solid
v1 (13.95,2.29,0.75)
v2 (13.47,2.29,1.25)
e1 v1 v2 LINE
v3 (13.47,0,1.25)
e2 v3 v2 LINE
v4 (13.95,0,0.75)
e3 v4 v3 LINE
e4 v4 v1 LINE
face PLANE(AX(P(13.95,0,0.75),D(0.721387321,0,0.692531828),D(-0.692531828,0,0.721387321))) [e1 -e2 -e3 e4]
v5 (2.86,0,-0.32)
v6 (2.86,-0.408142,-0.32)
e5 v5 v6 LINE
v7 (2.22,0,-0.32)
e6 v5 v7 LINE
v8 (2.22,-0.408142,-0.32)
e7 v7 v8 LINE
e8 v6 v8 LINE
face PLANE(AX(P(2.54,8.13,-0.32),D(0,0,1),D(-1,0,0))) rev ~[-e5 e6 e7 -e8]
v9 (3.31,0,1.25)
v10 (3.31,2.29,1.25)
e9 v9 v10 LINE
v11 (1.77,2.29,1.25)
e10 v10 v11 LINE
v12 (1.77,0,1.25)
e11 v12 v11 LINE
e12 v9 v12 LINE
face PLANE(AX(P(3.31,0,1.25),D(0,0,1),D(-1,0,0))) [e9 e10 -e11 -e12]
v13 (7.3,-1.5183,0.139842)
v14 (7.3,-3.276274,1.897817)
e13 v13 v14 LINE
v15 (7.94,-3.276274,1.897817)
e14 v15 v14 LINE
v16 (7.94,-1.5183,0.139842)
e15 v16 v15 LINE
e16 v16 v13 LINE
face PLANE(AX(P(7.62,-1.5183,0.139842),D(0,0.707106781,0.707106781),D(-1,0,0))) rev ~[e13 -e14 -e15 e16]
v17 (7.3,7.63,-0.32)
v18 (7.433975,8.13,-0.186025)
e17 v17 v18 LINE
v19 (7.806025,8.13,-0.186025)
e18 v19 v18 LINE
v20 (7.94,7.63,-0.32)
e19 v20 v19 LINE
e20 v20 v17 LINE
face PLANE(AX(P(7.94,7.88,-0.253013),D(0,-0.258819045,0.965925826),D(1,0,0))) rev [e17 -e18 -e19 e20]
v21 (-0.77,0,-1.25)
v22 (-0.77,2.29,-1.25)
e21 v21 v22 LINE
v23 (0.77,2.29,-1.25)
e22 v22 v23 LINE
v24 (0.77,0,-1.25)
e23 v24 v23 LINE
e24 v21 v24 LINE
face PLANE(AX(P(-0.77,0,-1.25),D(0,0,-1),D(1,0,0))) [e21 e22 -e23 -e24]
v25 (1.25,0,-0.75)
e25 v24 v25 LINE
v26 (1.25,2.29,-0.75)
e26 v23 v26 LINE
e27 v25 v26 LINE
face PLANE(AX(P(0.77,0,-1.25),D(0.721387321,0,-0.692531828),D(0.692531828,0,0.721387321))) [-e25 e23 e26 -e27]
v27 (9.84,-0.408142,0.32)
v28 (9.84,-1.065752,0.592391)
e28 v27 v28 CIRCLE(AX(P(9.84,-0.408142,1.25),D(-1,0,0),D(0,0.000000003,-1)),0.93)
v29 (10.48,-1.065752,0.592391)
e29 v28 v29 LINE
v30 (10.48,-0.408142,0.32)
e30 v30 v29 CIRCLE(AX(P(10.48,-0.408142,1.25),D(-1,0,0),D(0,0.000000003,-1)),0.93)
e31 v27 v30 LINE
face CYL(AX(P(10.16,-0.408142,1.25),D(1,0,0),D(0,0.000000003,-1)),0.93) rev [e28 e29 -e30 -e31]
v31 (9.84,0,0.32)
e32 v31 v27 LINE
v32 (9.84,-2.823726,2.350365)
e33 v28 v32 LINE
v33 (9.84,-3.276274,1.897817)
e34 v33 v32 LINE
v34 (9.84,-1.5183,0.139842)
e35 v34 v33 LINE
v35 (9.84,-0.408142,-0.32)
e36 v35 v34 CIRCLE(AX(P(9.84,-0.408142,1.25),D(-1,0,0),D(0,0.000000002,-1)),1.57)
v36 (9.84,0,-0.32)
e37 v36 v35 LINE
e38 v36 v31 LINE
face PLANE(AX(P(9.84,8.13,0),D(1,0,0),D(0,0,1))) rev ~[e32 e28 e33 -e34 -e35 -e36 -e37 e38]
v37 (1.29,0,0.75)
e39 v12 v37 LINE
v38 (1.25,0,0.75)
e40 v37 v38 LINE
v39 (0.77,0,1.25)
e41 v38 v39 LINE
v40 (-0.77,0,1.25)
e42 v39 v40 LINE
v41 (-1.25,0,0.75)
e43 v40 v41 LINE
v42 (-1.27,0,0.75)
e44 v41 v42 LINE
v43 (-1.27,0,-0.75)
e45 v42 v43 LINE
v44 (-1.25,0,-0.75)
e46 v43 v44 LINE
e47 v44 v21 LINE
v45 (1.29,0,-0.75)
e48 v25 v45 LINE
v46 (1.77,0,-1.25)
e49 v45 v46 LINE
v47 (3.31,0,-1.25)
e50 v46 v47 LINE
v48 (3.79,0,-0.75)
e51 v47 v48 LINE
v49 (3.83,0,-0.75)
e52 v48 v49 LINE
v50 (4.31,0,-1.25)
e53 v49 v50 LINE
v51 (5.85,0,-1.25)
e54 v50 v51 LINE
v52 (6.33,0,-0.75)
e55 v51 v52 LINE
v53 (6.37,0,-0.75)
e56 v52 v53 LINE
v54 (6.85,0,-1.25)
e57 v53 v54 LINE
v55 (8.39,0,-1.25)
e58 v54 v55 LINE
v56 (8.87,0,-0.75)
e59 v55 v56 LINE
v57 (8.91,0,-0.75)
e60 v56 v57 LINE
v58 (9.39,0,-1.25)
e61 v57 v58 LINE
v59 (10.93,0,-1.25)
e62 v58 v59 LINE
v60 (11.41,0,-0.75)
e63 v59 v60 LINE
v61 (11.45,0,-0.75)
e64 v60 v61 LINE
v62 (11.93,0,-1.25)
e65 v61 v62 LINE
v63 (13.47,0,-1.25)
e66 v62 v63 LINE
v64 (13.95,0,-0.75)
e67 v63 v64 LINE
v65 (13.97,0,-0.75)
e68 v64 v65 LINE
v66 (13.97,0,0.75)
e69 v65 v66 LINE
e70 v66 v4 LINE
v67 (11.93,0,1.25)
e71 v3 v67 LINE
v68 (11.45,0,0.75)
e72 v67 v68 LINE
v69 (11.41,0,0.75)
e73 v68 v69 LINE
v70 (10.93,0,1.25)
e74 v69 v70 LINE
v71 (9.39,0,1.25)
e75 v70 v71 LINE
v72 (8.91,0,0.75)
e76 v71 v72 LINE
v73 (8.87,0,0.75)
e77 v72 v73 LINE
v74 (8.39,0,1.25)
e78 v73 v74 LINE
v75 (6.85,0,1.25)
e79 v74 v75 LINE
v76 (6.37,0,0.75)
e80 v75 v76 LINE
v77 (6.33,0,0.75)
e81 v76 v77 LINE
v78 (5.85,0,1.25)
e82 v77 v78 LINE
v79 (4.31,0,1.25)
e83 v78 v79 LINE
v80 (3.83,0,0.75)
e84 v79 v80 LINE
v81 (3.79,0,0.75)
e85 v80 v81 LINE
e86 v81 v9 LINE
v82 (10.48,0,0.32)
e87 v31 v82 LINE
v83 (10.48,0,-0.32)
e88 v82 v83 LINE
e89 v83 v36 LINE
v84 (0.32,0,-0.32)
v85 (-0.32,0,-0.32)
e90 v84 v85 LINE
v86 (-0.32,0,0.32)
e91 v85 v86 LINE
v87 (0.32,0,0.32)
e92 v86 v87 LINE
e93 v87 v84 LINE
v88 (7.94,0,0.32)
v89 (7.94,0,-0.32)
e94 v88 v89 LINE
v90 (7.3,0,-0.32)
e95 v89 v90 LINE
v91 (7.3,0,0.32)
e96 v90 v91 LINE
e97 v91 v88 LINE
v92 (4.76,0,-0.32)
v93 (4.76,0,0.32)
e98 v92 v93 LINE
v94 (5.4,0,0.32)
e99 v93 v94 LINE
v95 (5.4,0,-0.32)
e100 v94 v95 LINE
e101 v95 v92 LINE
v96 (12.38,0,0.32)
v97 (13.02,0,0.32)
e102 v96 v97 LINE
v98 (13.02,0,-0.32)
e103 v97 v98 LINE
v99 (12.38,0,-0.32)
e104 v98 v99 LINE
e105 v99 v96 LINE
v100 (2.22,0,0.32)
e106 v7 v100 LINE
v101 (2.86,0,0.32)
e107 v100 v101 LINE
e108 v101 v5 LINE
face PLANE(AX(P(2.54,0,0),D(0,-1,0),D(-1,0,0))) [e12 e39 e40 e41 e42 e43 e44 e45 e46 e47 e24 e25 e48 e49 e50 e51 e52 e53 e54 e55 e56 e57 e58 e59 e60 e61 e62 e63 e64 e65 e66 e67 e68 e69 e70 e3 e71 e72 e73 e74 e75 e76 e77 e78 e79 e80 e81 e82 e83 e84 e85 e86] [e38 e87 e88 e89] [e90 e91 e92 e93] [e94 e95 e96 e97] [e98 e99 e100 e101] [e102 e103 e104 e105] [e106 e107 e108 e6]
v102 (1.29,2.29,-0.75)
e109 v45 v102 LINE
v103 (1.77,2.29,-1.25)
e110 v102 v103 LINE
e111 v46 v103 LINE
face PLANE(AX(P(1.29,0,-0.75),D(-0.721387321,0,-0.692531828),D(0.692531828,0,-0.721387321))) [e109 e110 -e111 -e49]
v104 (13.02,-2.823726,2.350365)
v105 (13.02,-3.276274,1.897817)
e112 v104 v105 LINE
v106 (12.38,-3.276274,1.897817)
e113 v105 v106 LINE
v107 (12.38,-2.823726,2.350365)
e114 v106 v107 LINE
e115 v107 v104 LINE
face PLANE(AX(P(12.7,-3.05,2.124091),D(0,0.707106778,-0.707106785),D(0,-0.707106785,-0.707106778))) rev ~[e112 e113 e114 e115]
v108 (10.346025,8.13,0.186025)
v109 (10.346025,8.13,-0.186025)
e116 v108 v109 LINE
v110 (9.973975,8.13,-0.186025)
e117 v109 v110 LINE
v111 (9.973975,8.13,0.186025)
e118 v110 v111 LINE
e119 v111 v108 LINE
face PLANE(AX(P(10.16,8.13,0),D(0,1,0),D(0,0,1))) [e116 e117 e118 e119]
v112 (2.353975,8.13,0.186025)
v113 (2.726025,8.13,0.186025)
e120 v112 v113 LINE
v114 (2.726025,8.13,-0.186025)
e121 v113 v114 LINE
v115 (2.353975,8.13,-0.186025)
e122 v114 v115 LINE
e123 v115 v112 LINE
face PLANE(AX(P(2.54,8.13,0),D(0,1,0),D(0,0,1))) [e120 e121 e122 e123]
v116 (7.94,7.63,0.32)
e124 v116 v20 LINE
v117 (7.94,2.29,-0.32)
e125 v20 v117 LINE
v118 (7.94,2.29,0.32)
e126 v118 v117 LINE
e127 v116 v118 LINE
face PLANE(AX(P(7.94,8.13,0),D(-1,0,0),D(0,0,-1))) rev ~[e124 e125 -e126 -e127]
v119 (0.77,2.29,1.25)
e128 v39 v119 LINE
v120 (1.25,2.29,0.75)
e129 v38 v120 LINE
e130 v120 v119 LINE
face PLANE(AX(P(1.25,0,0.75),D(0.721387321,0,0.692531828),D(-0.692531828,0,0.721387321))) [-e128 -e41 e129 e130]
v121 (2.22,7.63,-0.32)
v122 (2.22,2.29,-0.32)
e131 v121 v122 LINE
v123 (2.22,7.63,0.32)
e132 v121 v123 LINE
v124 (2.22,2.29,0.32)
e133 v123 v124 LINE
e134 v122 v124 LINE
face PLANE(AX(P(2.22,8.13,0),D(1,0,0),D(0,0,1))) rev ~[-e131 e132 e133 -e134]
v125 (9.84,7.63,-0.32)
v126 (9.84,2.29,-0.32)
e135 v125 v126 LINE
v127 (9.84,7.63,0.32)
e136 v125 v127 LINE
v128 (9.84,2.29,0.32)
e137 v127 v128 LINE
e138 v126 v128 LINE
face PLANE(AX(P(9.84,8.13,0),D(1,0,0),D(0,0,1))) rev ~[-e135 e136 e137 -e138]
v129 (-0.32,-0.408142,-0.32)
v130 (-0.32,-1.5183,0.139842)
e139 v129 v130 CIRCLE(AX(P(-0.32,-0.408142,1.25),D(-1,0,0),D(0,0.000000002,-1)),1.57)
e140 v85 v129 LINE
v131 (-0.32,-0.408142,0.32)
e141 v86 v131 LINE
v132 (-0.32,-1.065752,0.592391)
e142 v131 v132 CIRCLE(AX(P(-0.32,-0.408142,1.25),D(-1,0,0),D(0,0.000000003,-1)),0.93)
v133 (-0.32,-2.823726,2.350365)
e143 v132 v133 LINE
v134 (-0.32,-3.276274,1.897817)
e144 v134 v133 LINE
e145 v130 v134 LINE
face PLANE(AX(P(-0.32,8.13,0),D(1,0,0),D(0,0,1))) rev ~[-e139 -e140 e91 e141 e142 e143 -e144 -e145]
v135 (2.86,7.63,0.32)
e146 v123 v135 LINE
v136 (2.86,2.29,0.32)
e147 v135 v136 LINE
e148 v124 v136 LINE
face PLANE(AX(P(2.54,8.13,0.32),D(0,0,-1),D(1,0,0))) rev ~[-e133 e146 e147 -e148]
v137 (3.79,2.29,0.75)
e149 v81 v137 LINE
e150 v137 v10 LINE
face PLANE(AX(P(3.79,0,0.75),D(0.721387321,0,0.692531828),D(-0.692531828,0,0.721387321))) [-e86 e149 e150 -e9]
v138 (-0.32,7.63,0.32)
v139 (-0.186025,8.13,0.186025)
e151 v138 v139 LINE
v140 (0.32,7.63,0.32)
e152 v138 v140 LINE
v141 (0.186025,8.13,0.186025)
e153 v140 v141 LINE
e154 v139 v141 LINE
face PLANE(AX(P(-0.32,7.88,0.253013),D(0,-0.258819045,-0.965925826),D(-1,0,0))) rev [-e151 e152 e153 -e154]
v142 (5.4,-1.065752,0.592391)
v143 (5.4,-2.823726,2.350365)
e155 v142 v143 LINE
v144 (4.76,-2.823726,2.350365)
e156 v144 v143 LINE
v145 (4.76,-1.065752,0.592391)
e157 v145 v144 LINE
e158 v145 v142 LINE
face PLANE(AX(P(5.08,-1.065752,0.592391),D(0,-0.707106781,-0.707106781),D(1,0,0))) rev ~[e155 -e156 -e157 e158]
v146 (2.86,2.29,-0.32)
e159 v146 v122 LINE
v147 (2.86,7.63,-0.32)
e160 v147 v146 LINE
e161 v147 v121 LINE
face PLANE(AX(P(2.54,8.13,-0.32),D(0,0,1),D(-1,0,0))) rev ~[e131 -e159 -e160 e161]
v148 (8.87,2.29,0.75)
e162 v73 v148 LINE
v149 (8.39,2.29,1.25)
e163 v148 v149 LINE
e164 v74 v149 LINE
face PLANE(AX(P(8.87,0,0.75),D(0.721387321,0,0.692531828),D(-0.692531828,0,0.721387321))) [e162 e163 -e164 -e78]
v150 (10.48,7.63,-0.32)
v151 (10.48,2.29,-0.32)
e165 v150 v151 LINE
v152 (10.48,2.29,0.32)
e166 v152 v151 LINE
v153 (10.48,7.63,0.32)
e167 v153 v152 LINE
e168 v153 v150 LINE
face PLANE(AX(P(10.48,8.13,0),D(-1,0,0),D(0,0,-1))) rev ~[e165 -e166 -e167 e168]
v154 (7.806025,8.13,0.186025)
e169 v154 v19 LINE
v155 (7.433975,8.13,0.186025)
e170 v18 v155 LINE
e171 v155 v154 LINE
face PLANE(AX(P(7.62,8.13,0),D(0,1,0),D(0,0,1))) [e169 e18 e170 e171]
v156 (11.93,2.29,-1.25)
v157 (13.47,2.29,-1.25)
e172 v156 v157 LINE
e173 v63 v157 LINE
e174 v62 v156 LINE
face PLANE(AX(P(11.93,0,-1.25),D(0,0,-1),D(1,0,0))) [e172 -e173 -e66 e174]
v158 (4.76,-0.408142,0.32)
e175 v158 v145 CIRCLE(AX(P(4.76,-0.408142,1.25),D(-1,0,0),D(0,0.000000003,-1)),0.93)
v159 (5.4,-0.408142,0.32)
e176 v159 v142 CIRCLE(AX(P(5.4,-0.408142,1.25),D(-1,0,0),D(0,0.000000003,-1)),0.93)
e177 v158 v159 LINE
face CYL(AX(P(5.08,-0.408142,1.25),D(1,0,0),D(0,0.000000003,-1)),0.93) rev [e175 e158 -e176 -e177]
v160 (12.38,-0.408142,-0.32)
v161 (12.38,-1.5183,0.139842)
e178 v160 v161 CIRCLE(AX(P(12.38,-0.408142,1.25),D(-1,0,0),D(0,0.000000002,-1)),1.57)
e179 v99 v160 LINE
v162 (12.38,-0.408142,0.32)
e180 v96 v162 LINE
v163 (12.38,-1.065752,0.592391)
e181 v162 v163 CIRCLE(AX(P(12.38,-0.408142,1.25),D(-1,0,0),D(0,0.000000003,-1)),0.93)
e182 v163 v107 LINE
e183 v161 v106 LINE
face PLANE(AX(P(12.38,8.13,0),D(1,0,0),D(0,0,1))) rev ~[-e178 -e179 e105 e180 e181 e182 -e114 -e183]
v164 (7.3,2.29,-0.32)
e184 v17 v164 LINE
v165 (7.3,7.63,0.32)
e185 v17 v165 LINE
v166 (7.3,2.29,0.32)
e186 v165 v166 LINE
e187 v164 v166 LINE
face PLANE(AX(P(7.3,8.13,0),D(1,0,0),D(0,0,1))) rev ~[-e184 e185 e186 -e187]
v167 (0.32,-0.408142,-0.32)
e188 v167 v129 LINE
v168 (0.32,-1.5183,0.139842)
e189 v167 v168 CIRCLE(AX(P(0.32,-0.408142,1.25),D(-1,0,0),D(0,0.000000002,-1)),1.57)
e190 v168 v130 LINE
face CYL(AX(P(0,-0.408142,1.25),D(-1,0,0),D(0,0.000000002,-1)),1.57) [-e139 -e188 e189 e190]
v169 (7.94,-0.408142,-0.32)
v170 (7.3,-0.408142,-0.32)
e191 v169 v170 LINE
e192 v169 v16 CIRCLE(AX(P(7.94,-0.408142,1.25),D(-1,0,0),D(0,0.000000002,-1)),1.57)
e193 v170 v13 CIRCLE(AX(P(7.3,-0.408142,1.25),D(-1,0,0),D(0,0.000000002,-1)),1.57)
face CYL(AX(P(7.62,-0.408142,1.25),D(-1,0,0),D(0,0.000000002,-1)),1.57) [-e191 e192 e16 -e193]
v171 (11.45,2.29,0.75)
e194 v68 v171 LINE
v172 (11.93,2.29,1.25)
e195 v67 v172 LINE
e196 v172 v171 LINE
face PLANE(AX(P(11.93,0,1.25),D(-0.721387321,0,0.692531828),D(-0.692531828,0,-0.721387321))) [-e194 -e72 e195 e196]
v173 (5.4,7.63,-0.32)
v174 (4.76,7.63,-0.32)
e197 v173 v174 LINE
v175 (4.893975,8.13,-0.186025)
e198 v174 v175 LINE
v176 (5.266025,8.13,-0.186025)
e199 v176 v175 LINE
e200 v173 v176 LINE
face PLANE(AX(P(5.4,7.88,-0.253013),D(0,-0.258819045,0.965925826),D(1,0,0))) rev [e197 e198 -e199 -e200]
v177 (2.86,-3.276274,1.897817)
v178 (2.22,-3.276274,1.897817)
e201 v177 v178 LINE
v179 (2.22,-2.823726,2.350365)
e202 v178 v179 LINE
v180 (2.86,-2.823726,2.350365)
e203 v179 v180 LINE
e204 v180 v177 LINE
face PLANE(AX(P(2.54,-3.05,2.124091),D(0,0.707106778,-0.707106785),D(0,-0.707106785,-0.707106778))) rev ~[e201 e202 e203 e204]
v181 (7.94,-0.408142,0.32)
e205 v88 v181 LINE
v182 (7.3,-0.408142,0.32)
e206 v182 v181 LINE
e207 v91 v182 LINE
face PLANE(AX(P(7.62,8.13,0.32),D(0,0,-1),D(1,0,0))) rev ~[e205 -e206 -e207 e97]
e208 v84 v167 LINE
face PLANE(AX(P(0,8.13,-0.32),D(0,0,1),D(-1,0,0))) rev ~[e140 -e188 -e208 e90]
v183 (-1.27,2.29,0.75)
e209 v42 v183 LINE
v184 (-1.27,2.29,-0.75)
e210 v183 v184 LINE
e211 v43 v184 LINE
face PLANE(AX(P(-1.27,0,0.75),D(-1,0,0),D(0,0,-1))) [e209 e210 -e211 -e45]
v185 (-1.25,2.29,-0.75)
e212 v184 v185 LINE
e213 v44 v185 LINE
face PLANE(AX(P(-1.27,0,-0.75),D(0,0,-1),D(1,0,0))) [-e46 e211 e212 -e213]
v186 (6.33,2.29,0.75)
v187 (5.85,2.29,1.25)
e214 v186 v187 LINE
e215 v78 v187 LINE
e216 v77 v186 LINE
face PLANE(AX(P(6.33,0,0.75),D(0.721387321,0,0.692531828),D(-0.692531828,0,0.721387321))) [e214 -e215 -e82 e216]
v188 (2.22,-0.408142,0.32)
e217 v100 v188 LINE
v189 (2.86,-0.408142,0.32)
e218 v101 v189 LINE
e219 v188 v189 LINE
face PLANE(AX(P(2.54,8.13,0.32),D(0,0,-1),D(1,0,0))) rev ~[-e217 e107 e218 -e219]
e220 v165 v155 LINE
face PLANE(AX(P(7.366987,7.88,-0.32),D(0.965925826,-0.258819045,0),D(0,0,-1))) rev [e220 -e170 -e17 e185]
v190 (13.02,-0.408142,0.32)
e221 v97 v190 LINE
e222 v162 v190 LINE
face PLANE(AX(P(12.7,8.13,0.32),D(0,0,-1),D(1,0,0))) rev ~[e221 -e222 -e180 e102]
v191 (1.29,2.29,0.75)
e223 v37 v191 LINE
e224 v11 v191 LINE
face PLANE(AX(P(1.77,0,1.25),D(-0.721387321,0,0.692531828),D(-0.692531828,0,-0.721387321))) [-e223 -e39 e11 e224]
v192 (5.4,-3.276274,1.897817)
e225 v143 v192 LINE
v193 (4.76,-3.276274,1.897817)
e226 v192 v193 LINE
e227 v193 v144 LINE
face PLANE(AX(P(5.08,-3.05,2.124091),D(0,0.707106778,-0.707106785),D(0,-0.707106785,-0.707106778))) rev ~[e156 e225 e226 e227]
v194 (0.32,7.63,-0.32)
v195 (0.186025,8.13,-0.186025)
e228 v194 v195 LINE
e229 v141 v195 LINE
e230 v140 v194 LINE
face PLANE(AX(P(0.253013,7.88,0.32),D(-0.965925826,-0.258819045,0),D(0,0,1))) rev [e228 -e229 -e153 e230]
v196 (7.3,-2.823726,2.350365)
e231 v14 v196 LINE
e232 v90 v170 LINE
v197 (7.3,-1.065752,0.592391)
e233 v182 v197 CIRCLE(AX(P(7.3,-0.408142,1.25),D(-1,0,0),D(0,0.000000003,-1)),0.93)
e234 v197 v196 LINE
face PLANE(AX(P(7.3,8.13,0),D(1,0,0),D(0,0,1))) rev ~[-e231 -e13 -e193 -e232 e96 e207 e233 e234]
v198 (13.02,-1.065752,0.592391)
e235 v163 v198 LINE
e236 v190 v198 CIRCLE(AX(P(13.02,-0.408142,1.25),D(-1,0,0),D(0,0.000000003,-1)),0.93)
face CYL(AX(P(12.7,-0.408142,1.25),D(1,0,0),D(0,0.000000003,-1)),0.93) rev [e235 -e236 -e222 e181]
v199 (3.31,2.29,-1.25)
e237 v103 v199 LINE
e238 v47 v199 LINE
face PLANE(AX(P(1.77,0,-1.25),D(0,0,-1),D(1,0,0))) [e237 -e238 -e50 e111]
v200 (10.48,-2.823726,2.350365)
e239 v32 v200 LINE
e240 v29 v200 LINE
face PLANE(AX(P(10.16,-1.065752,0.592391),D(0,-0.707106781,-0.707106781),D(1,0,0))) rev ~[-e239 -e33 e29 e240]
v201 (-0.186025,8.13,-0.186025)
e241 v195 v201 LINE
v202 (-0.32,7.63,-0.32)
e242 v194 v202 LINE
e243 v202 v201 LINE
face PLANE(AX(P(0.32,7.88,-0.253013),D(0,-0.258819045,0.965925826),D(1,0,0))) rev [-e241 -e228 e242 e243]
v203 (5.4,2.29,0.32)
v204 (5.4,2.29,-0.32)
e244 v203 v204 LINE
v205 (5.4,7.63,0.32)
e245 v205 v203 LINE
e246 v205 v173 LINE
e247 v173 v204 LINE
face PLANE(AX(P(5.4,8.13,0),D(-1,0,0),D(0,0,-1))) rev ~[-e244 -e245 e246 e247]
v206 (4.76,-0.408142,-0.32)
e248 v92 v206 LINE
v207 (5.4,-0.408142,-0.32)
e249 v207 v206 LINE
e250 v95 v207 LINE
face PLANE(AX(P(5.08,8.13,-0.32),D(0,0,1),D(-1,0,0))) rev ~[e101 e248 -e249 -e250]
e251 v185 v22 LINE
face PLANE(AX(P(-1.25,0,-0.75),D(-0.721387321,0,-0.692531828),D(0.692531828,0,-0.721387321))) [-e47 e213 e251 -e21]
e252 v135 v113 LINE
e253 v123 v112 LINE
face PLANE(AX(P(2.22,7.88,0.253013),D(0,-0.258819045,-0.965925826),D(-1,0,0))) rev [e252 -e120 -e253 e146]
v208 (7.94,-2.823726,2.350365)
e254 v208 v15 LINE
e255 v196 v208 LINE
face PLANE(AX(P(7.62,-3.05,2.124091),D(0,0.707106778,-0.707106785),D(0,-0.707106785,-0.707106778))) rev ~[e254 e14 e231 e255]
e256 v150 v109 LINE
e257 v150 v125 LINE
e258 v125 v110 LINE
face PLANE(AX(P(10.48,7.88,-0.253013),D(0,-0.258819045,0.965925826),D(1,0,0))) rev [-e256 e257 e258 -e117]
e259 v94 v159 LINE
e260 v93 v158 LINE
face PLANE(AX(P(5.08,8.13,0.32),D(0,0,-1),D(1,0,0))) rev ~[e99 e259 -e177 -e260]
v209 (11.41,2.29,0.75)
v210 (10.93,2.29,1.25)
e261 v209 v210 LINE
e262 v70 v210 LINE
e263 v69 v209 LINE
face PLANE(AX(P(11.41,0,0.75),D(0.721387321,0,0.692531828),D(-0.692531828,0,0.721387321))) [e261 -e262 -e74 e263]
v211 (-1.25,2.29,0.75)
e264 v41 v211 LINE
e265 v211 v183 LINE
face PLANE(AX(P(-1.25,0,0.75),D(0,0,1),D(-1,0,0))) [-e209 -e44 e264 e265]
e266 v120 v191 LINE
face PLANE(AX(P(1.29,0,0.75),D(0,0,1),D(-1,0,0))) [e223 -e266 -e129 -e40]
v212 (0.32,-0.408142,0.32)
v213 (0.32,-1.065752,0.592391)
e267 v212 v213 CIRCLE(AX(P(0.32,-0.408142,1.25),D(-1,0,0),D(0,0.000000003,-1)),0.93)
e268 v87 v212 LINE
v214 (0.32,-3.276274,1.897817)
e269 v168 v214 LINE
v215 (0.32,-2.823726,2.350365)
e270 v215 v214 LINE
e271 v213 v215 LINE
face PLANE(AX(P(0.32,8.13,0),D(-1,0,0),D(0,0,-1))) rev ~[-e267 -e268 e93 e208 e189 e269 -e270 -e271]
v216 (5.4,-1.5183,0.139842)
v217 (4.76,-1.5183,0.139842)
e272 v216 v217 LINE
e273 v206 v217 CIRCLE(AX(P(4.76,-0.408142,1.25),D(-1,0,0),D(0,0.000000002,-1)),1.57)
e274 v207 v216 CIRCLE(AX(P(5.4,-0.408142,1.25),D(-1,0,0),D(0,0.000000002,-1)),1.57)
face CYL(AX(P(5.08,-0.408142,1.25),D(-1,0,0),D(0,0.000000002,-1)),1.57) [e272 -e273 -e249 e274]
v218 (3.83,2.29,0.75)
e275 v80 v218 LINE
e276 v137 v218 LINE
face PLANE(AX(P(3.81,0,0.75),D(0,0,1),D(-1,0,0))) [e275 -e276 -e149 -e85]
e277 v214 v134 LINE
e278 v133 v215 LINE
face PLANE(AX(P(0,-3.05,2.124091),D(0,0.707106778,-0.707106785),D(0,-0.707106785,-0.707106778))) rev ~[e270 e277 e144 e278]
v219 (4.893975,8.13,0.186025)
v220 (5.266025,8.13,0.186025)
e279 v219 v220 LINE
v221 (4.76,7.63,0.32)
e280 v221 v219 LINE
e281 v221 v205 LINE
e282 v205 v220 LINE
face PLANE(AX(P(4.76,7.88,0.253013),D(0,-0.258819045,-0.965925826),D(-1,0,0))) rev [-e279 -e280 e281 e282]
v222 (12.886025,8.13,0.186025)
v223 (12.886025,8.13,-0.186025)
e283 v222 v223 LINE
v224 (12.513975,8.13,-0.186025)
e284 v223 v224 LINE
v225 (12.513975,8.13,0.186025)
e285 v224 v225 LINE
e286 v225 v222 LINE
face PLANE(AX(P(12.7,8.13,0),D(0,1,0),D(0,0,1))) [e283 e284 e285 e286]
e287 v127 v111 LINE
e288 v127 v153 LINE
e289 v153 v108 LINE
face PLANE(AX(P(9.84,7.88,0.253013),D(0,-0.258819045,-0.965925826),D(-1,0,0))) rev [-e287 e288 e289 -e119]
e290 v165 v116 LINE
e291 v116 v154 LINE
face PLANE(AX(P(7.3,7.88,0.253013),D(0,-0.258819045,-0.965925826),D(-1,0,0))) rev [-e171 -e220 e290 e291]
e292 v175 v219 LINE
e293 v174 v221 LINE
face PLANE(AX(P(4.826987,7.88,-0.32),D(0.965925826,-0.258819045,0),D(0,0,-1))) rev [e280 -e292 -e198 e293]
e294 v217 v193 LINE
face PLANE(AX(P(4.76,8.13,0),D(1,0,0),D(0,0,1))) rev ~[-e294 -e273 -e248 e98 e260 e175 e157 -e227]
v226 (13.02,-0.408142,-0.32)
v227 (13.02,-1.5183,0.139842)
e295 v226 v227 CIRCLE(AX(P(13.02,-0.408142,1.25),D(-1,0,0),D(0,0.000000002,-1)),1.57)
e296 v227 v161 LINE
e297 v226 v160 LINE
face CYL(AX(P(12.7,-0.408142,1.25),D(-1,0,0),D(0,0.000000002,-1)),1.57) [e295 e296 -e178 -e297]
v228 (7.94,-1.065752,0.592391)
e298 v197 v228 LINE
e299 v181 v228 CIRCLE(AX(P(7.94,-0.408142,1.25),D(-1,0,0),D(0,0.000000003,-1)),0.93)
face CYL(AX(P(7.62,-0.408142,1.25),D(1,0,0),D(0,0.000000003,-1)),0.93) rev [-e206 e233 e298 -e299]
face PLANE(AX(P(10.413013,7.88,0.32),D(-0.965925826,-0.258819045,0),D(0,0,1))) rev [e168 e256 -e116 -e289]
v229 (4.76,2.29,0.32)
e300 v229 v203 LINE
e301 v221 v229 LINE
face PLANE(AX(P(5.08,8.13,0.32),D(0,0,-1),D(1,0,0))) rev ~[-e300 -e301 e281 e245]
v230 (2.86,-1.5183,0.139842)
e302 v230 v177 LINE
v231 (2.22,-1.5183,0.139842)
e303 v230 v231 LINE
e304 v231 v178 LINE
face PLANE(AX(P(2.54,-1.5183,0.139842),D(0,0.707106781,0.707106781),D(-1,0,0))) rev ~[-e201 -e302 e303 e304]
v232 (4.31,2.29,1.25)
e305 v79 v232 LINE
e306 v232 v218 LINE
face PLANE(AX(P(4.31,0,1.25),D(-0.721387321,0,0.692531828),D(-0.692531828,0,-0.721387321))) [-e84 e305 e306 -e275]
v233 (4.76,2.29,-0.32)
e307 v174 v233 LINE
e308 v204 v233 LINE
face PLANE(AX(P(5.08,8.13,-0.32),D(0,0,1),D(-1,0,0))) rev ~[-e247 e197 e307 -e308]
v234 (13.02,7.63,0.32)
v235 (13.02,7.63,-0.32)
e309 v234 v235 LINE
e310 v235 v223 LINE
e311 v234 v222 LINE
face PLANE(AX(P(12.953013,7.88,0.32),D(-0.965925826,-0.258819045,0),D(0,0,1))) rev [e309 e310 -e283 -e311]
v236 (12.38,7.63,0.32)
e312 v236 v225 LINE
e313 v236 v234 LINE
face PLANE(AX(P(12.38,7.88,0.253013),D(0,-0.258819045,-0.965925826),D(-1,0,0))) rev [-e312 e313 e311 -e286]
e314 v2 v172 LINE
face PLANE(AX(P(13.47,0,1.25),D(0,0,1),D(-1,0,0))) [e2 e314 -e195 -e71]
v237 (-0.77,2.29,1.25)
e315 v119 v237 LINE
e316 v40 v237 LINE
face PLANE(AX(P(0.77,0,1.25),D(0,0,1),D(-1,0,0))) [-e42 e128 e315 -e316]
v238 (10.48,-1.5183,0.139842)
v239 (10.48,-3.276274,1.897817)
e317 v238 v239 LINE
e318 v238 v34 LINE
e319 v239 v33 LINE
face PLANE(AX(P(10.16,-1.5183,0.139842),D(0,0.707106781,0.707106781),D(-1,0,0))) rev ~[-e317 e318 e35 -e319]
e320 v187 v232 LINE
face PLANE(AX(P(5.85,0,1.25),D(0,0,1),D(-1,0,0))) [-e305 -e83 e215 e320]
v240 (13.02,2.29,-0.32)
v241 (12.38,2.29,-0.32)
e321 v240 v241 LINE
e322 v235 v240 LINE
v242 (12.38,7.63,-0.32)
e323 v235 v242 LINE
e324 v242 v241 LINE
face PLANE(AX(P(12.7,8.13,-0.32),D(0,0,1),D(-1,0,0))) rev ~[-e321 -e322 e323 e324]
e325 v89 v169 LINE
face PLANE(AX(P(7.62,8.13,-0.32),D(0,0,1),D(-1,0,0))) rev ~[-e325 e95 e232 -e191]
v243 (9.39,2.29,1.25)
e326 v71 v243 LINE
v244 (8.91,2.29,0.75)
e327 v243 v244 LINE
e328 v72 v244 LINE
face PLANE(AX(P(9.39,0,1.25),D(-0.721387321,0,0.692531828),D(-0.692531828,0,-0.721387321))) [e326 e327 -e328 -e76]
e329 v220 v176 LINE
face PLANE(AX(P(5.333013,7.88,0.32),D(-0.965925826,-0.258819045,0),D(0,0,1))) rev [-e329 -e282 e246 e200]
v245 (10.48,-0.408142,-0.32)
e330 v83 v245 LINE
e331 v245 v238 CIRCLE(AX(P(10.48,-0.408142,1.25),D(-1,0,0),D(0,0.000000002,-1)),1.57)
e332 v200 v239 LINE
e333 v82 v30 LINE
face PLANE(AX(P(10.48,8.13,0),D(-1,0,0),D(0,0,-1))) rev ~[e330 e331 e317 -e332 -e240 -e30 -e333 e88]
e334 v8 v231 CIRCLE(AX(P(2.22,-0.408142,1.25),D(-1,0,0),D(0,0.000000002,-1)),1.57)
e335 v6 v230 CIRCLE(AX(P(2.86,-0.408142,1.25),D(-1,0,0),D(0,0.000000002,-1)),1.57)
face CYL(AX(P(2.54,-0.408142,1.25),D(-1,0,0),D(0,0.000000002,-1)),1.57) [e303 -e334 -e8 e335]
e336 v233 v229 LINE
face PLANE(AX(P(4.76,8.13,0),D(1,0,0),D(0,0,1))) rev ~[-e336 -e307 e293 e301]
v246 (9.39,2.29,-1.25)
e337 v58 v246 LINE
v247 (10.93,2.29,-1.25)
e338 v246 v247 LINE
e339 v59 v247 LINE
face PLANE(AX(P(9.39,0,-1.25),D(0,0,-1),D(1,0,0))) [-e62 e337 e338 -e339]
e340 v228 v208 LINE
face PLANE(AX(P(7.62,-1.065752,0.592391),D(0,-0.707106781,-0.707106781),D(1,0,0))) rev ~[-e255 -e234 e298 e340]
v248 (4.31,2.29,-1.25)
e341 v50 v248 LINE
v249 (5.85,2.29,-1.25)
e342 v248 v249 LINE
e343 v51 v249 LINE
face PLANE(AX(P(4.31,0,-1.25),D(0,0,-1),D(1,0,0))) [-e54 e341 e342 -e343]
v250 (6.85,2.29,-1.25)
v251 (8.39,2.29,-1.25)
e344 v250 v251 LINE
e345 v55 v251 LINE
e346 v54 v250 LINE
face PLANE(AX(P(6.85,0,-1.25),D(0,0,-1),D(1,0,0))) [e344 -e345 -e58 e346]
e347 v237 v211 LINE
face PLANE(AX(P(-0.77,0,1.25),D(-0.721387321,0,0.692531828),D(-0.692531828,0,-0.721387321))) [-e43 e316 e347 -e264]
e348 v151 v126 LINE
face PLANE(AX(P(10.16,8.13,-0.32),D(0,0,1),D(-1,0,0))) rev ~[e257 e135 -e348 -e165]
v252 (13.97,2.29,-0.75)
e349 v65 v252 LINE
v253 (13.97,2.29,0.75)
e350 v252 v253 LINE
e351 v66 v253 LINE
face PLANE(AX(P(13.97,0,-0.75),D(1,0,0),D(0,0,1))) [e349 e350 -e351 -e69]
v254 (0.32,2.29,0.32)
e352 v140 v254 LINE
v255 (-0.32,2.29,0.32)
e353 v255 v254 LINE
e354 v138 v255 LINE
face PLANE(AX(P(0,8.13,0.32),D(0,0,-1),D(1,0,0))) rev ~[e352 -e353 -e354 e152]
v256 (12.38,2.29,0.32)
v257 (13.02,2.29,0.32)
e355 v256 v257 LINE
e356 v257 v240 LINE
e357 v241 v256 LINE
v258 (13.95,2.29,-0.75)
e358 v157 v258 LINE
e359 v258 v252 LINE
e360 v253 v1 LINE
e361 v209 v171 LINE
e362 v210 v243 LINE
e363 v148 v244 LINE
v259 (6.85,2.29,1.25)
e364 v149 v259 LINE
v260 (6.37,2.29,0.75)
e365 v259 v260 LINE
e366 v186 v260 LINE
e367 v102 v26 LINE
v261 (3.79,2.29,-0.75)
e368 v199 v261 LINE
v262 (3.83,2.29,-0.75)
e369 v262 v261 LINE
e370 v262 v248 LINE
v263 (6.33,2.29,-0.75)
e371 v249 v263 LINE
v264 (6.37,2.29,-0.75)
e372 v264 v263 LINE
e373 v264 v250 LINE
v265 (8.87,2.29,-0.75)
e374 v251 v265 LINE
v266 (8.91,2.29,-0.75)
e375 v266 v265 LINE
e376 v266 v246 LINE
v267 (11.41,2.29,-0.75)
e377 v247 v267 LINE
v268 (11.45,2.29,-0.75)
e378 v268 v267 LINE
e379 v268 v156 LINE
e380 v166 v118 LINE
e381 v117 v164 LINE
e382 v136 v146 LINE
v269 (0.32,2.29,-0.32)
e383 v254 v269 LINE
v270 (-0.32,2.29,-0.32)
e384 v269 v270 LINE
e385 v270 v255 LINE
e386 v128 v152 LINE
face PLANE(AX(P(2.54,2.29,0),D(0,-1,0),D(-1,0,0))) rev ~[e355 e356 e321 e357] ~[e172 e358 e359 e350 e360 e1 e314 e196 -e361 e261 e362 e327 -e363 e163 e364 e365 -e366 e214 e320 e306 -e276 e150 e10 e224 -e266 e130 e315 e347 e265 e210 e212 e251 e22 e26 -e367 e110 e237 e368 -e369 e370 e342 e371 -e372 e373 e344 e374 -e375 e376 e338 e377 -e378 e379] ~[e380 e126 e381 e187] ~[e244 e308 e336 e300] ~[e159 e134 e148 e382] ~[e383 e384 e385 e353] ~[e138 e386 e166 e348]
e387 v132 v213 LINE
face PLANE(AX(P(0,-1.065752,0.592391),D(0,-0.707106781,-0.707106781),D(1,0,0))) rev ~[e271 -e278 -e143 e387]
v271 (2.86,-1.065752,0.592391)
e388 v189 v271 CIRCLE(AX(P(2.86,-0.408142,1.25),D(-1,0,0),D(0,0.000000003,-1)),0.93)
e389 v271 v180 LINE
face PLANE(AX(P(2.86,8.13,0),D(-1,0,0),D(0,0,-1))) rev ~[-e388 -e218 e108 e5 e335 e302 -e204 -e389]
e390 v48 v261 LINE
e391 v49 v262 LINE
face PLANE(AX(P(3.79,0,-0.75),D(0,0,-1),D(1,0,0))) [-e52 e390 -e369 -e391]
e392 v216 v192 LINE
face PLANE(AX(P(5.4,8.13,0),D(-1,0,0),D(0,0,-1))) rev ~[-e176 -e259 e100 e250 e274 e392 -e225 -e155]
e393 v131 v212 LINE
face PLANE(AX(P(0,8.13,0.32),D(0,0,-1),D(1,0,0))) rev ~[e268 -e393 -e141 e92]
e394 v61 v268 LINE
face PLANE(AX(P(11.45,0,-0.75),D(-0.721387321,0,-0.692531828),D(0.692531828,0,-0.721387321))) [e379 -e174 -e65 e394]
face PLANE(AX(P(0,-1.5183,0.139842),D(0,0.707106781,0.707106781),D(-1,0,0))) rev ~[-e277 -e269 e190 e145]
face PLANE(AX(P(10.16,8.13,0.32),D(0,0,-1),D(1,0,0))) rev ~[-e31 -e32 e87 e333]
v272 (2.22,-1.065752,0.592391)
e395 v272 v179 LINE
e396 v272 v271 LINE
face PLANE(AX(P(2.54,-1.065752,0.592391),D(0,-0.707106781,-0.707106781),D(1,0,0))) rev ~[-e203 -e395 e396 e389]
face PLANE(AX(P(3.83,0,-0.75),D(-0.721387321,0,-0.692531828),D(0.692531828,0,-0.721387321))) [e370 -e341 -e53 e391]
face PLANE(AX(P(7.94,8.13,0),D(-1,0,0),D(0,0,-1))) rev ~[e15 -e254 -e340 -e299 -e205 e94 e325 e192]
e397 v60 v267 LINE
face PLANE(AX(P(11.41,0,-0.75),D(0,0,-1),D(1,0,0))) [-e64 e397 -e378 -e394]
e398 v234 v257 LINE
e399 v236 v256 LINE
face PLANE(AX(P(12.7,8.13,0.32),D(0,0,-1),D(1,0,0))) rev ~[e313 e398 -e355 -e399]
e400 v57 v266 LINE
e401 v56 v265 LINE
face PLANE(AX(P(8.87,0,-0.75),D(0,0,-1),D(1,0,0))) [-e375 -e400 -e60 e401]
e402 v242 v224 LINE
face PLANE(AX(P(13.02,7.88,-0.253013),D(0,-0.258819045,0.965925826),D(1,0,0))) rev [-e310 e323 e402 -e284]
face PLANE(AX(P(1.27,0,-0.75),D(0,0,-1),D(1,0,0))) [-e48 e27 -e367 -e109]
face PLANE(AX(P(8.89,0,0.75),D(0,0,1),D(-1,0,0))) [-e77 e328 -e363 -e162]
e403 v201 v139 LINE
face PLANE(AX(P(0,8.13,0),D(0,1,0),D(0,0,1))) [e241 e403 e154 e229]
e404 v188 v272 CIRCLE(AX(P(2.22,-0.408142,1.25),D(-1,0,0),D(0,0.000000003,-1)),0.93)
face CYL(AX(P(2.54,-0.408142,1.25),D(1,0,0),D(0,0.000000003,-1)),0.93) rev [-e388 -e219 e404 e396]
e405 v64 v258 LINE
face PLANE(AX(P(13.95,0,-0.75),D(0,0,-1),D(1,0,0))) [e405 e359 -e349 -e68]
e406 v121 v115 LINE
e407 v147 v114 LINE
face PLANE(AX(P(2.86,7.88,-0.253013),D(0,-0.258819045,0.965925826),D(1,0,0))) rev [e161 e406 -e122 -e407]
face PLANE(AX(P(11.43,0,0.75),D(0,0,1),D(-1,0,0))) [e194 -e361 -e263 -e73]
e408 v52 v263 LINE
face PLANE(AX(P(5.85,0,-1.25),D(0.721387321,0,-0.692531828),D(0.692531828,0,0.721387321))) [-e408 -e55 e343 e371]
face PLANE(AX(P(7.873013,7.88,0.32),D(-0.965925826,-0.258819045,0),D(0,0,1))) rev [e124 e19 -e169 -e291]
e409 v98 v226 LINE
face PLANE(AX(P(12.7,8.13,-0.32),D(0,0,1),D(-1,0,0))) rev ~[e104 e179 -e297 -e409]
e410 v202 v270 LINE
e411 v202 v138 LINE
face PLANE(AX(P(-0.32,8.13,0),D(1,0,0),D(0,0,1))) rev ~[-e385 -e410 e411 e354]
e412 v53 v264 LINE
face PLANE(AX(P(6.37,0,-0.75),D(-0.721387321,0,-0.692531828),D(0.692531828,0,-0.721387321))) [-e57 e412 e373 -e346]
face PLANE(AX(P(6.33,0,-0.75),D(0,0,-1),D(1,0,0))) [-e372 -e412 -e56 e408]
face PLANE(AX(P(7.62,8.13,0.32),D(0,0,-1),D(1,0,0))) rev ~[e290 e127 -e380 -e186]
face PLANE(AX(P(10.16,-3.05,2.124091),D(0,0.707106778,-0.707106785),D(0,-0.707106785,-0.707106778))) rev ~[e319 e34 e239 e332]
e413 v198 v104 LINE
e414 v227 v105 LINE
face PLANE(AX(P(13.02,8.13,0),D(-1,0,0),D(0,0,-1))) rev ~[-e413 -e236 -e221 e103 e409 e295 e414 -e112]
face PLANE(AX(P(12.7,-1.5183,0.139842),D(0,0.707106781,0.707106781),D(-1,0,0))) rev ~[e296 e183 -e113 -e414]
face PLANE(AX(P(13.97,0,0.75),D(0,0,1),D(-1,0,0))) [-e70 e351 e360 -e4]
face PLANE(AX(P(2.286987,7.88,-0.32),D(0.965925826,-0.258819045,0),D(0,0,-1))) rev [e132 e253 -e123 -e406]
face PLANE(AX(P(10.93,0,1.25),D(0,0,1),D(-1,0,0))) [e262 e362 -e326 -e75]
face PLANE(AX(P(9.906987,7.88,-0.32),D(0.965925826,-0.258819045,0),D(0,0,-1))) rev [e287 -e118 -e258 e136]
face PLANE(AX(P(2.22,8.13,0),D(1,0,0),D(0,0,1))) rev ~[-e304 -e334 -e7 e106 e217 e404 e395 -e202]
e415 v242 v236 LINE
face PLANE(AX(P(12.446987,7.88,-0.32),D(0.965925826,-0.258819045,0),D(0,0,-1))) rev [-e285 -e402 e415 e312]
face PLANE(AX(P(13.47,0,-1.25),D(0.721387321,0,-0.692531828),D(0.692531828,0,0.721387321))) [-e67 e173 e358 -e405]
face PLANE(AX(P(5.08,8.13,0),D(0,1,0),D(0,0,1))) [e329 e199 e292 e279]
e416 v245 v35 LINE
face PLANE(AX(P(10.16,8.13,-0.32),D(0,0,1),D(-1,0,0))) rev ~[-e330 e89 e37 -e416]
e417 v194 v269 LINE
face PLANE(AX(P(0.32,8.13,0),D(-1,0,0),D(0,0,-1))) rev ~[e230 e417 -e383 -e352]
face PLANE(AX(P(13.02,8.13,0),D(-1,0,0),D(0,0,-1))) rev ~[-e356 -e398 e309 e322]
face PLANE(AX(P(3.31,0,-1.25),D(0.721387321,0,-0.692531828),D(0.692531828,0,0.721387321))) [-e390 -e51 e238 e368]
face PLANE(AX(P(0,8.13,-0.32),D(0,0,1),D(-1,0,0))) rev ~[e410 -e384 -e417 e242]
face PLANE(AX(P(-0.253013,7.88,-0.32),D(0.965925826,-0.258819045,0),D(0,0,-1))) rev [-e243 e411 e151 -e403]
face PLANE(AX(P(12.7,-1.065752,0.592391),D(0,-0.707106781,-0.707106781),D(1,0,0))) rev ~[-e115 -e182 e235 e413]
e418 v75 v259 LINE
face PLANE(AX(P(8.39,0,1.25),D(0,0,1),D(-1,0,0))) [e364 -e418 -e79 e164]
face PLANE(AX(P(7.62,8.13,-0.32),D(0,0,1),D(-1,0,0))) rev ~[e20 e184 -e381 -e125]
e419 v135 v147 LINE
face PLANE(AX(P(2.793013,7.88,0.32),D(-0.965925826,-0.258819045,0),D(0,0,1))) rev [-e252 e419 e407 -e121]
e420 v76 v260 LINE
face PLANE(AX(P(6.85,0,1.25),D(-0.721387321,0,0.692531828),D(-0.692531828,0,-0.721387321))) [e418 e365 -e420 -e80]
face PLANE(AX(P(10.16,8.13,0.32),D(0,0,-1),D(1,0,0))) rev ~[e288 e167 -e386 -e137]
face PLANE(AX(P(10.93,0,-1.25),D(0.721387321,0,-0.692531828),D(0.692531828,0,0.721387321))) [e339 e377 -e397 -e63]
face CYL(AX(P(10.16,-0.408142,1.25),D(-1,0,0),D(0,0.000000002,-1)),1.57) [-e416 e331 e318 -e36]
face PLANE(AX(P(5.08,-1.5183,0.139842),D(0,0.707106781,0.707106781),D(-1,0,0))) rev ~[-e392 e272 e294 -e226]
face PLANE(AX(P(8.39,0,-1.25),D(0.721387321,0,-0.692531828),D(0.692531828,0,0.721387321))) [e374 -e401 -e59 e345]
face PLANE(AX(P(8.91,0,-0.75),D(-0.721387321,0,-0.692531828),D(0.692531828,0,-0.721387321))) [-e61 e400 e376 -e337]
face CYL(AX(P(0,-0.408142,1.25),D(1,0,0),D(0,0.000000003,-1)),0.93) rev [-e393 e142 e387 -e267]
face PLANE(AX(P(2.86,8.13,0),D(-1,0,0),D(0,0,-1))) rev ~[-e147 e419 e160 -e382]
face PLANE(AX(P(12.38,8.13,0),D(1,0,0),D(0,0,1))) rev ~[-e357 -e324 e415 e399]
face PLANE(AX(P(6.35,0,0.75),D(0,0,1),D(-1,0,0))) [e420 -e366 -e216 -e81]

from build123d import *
from OCP.BRepFilletAPI import BRepFilletAPI_MakeChamfer

# Parameters (mm, degrees)
BOSS_EXTRUDE1_DEPTH         = 2.29
SKETCH3_W                   = 0.64
SKETCH3_H                   = 0.64
CHAMFER3_SIZE               = 0.5
CHAMFER3_SIZE2              = 0.133974596
LPATTERN1_COUNT             = 6
LPATTERN1_PITCH             = 2.54
CHAMFER3_OF_LPATTERN1_SIZE  = 0.5
CHAMFER3_OF_LPATTERN1_SIZE2 = 0.133974596


with BuildPart() as part:
    # Sketch1 → Boss-Extrude1 (new body)
    with BuildSketch(Plane(origin=(0, 0, 0), x_dir=(1, 0, 0), z_dir=(0, 1, 0))):
        Polygon((-0.77, 1.25), (0.77, 1.25), (1.25, 0.75), (1.27, 0.75), (1.27, -0.75), (1.25, -0.75), (0.77, -1.25), (-0.77, -1.25), (-1.25, -0.75), (-1.27, -0.75), (-1.27, 0.75), (-1.25, 0.75), align=None)
    boss_extrude1 = extrude(amount=BOSS_EXTRUDE1_DEPTH)

    # Sweep1: sweep along a path in Sketch2
    with BuildLine(Plane(origin=(0, 0, 0), x_dir=(0, 0, -1), z_dir=(1, 0, 0))) as sweep1_path:
        Line((0, 8.13), (0, -0.408142235))
        ThreePointArc((0, -0.408142235), (-0.095150584, -0.886496526), (-0.366116524, -1.292025712))
        Line((-0.366116524, -1.292025712), (-2.124090812, -3.05))
    # Sketch3 → Sweep1 (sweep)
    with BuildSketch(Plane(origin=(0, 8.13, 0), x_dir=(1, 0, 0), z_dir=(0, 1, 0))):
        Rectangle(SKETCH3_W, SKETCH3_H)
    sweep1 = sweep(path=sweep1_path.line)

    # Chamfer3: one chamfer whose edges measure the first distance from different faces: ONE call of the kernel's chamfer builder (chamfer() names one face for all edges)
    chamfer3_edges_1 = [part.edges().sort_by_distance(p)[0] for p in [
        (0.32, 8.13, 0),
    ]]
    chamfer3_side_1 = [part.faces().sort_by_distance(p)[0] for p in [
        (0.32, 5.21, 0),
    ]]
    chamfer3_edges_2 = [part.edges().sort_by_distance(p)[0] for p in [
        (0, 8.13, -0.32),
    ]]
    chamfer3_side_2 = [part.faces().sort_by_distance(p)[0] for p in [
        (0, 5.21, -0.32),
    ]]
    chamfer3_edges_3 = [part.edges().sort_by_distance(p)[0] for p in [
        (-0.32, 8.13, 0),
    ]]
    chamfer3_side_3 = [part.faces().sort_by_distance(p)[0] for p in [
        (-0.32, 5.21, 0),
    ]]
    chamfer3_edges_4 = [part.edges().sort_by_distance(p)[0] for p in [
        (0, 8.13, 0.32),
    ]]
    chamfer3_side_4 = [part.faces().sort_by_distance(p)[0] for p in [
        (0, 5.21, 0.32),
    ]]
    chamfer3 = BRepFilletAPI_MakeChamfer(part.part.solid().wrapped)
    for e in chamfer3_edges_1:
        chamfer3.Add(CHAMFER3_SIZE, CHAMFER3_SIZE2, e.wrapped, chamfer3_side_1[0].wrapped)  # the first distance lies on this face
    for e in chamfer3_edges_2:
        chamfer3.Add(CHAMFER3_SIZE, CHAMFER3_SIZE2, e.wrapped, chamfer3_side_2[0].wrapped)  # the first distance lies on this face
    for e in chamfer3_edges_3:
        chamfer3.Add(CHAMFER3_SIZE, CHAMFER3_SIZE2, e.wrapped, chamfer3_side_3[0].wrapped)  # the first distance lies on this face
    for e in chamfer3_edges_4:
        chamfer3.Add(CHAMFER3_SIZE, CHAMFER3_SIZE2, e.wrapped, chamfer3_side_4[0].wrapped)  # the first distance lies on this face
    add(Compound.cast(chamfer3.Shape()), mode=Mode.REPLACE)

    # LPattern1: Boss-Extrude1, Sweep1 ×6
    with Locations(*[(i * LPATTERN1_PITCH, 0, 0) for i in range(1, LPATTERN1_COUNT)]):
        add(boss_extrude1)
        add(sweep1)

    # Chamfer3 of LPattern1: one chamfer whose edges measure the first distance from different faces: ONE call of the kernel's chamfer builder (chamfer() names one face for all edges)
    chamfer3_of_lpattern1_edges_1 = [part.edges().sort_by_distance(p)[0] for p in [
        (2.86, 8.13, 0),
    ]]
    chamfer3_of_lpattern1_side_1 = [part.faces().sort_by_distance(p)[0] for p in [
        (2.86, 5.21, 0),
    ]]
    chamfer3_of_lpattern1_edges_2 = [part.edges().sort_by_distance(p)[0] for p in [
        (2.54, 8.13, -0.32),
    ]]
    chamfer3_of_lpattern1_side_2 = [part.faces().sort_by_distance(p)[0] for p in [
        (2.54, 5.21, -0.32),
    ]]
    chamfer3_of_lpattern1_edges_3 = [part.edges().sort_by_distance(p)[0] for p in [
        (2.22, 8.13, 0),
    ]]
    chamfer3_of_lpattern1_side_3 = [part.faces().sort_by_distance(p)[0] for p in [
        (2.22, 5.21, 0),
    ]]
    chamfer3_of_lpattern1_edges_4 = [part.edges().sort_by_distance(p)[0] for p in [
        (2.54, 8.13, 0.32),
    ]]
    chamfer3_of_lpattern1_side_4 = [part.faces().sort_by_distance(p)[0] for p in [
        (2.54, 5.21, 0.32),
    ]]
    chamfer3_of_lpattern1_edges_5 = [part.edges().sort_by_distance(p)[0] for p in [
        (5.4, 8.13, 0),
    ]]
    chamfer3_of_lpattern1_side_5 = [part.faces().sort_by_distance(p)[0] for p in [
        (5.4, 5.21, 0),
    ]]
    chamfer3_of_lpattern1_edges_6 = [part.edges().sort_by_distance(p)[0] for p in [
        (5.08, 8.13, -0.32),
    ]]
    chamfer3_of_lpattern1_side_6 = [part.faces().sort_by_distance(p)[0] for p in [
        (5.08, 5.21, -0.32),
    ]]
    chamfer3_of_lpattern1_edges_7 = [part.edges().sort_by_distance(p)[0] for p in [
        (4.76, 8.13, 0),
    ]]
    chamfer3_of_lpattern1_side_7 = [part.faces().sort_by_distance(p)[0] for p in [
        (4.76, 5.21, 0),
    ]]
    chamfer3_of_lpattern1_edges_8 = [part.edges().sort_by_distance(p)[0] for p in [
        (5.08, 8.13, 0.32),
    ]]
    chamfer3_of_lpattern1_side_8 = [part.faces().sort_by_distance(p)[0] for p in [
        (5.08, 5.21, 0.32),
    ]]
    chamfer3_of_lpattern1_edges_9 = [part.edges().sort_by_distance(p)[0] for p in [
        (7.94, 8.13, 0),
    ]]
    chamfer3_of_lpattern1_side_9 = [part.faces().sort_by_distance(p)[0] for p in [
        (7.94, 5.21, 0),
    ]]
    chamfer3_of_lpattern1_edges_10 = [part.edges().sort_by_distance(p)[0] for p in [
        (7.62, 8.13, -0.32),
    ]]
    chamfer3_of_lpattern1_side_10 = [part.faces().sort_by_distance(p)[0] for p in [
        (7.62, 5.21, -0.32),
    ]]
    chamfer3_of_lpattern1_edges_11 = [part.edges().sort_by_distance(p)[0] for p in [
        (7.3, 8.13, 0),
    ]]
    chamfer3_of_lpattern1_side_11 = [part.faces().sort_by_distance(p)[0] for p in [
        (7.3, 5.21, 0),
    ]]
    chamfer3_of_lpattern1_edges_12 = [part.edges().sort_by_distance(p)[0] for p in [
        (7.62, 8.13, 0.32),
    ]]
    chamfer3_of_lpattern1_side_12 = [part.faces().sort_by_distance(p)[0] for p in [
        (7.62, 5.21, 0.32),
    ]]
    chamfer3_of_lpattern1_edges_13 = [part.edges().sort_by_distance(p)[0] for p in [
        (10.48, 8.13, 0),
    ]]
    chamfer3_of_lpattern1_side_13 = [part.faces().sort_by_distance(p)[0] for p in [
        (10.48, 5.21, 0),
    ]]
    chamfer3_of_lpattern1_edges_14 = [part.edges().sort_by_distance(p)[0] for p in [
        (10.16, 8.13, -0.32),
    ]]
    chamfer3_of_lpattern1_side_14 = [part.faces().sort_by_distance(p)[0] for p in [
        (10.16, 5.21, -0.32),
    ]]
    chamfer3_of_lpattern1_edges_15 = [part.edges().sort_by_distance(p)[0] for p in [
        (9.84, 8.13, 0),
    ]]
    chamfer3_of_lpattern1_side_15 = [part.faces().sort_by_distance(p)[0] for p in [
        (9.84, 5.21, 0),
    ]]
    chamfer3_of_lpattern1_edges_16 = [part.edges().sort_by_distance(p)[0] for p in [
        (10.16, 8.13, 0.32),
    ]]
    chamfer3_of_lpattern1_side_16 = [part.faces().sort_by_distance(p)[0] for p in [
        (10.16, 5.21, 0.32),
    ]]
    chamfer3_of_lpattern1_edges_17 = [part.edges().sort_by_distance(p)[0] for p in [
        (13.02, 8.13, 0),
    ]]
    chamfer3_of_lpattern1_side_17 = [part.faces().sort_by_distance(p)[0] for p in [
        (13.02, 5.21, 0),
    ]]
    chamfer3_of_lpattern1_edges_18 = [part.edges().sort_by_distance(p)[0] for p in [
        (12.7, 8.13, -0.32),
    ]]
    chamfer3_of_lpattern1_side_18 = [part.faces().sort_by_distance(p)[0] for p in [
        (12.7, 5.21, -0.32),
    ]]
    chamfer3_of_lpattern1_edges_19 = [part.edges().sort_by_distance(p)[0] for p in [
        (12.38, 8.13, 0),
    ]]
    chamfer3_of_lpattern1_side_19 = [part.faces().sort_by_distance(p)[0] for p in [
        (12.38, 5.21, 0),
    ]]
    chamfer3_of_lpattern1_edges_20 = [part.edges().sort_by_distance(p)[0] for p in [
        (12.7, 8.13, 0.32),
    ]]
    chamfer3_of_lpattern1_side_20 = [part.faces().sort_by_distance(p)[0] for p in [
        (12.7, 5.21, 0.32),
    ]]
    chamfer3_of_lpattern1 = BRepFilletAPI_MakeChamfer(part.part.solid().wrapped)
    for e in chamfer3_of_lpattern1_edges_1:
        chamfer3_of_lpattern1.Add(CHAMFER3_OF_LPATTERN1_SIZE, CHAMFER3_OF_LPATTERN1_SIZE2, e.wrapped, chamfer3_of_lpattern1_side_1[0].wrapped)  # the first distance lies on this face
    for e in chamfer3_of_lpattern1_edges_2:
        chamfer3_of_lpattern1.Add(CHAMFER3_OF_LPATTERN1_SIZE, CHAMFER3_OF_LPATTERN1_SIZE2, e.wrapped, chamfer3_of_lpattern1_side_2[0].wrapped)  # the first distance lies on this face
    for e in chamfer3_of_lpattern1_edges_3:
        chamfer3_of_lpattern1.Add(CHAMFER3_OF_LPATTERN1_SIZE, CHAMFER3_OF_LPATTERN1_SIZE2, e.wrapped, chamfer3_of_lpattern1_side_3[0].wrapped)  # the first distance lies on this face
    for e in chamfer3_of_lpattern1_edges_4:
        chamfer3_of_lpattern1.Add(CHAMFER3_OF_LPATTERN1_SIZE, CHAMFER3_OF_LPATTERN1_SIZE2, e.wrapped, chamfer3_of_lpattern1_side_4[0].wrapped)  # the first distance lies on this face
    for e in chamfer3_of_lpattern1_edges_5:
        chamfer3_of_lpattern1.Add(CHAMFER3_OF_LPATTERN1_SIZE, CHAMFER3_OF_LPATTERN1_SIZE2, e.wrapped, chamfer3_of_lpattern1_side_5[0].wrapped)  # the first distance lies on this face
    for e in chamfer3_of_lpattern1_edges_6:
        chamfer3_of_lpattern1.Add(CHAMFER3_OF_LPATTERN1_SIZE, CHAMFER3_OF_LPATTERN1_SIZE2, e.wrapped, chamfer3_of_lpattern1_side_6[0].wrapped)  # the first distance lies on this face
    for e in chamfer3_of_lpattern1_edges_7:
        chamfer3_of_lpattern1.Add(CHAMFER3_OF_LPATTERN1_SIZE, CHAMFER3_OF_LPATTERN1_SIZE2, e.wrapped, chamfer3_of_lpattern1_side_7[0].wrapped)  # the first distance lies on this face
    for e in chamfer3_of_lpattern1_edges_8:
        chamfer3_of_lpattern1.Add(CHAMFER3_OF_LPATTERN1_SIZE, CHAMFER3_OF_LPATTERN1_SIZE2, e.wrapped, chamfer3_of_lpattern1_side_8[0].wrapped)  # the first distance lies on this face
    for e in chamfer3_of_lpattern1_edges_9:
        chamfer3_of_lpattern1.Add(CHAMFER3_OF_LPATTERN1_SIZE, CHAMFER3_OF_LPATTERN1_SIZE2, e.wrapped, chamfer3_of_lpattern1_side_9[0].wrapped)  # the first distance lies on this face
    for e in chamfer3_of_lpattern1_edges_10:
        chamfer3_of_lpattern1.Add(CHAMFER3_OF_LPATTERN1_SIZE, CHAMFER3_OF_LPATTERN1_SIZE2, e.wrapped, chamfer3_of_lpattern1_side_10[0].wrapped)  # the first distance lies on this face
    for e in chamfer3_of_lpattern1_edges_11:
        chamfer3_of_lpattern1.Add(CHAMFER3_OF_LPATTERN1_SIZE, CHAMFER3_OF_LPATTERN1_SIZE2, e.wrapped, chamfer3_of_lpattern1_side_11[0].wrapped)  # the first distance lies on this face
    for e in chamfer3_of_lpattern1_edges_12:
        chamfer3_of_lpattern1.Add(CHAMFER3_OF_LPATTERN1_SIZE, CHAMFER3_OF_LPATTERN1_SIZE2, e.wrapped, chamfer3_of_lpattern1_side_12[0].wrapped)  # the first distance lies on this face
    for e in chamfer3_of_lpattern1_edges_13:
        chamfer3_of_lpattern1.Add(CHAMFER3_OF_LPATTERN1_SIZE, CHAMFER3_OF_LPATTERN1_SIZE2, e.wrapped, chamfer3_of_lpattern1_side_13[0].wrapped)  # the first distance lies on this face
    for e in chamfer3_of_lpattern1_edges_14:
        chamfer3_of_lpattern1.Add(CHAMFER3_OF_LPATTERN1_SIZE, CHAMFER3_OF_LPATTERN1_SIZE2, e.wrapped, chamfer3_of_lpattern1_side_14[0].wrapped)  # the first distance lies on this face
    for e in chamfer3_of_lpattern1_edges_15:
        chamfer3_of_lpattern1.Add(CHAMFER3_OF_LPATTERN1_SIZE, CHAMFER3_OF_LPATTERN1_SIZE2, e.wrapped, chamfer3_of_lpattern1_side_15[0].wrapped)  # the first distance lies on this face
    for e in chamfer3_of_lpattern1_edges_16:
        chamfer3_of_lpattern1.Add(CHAMFER3_OF_LPATTERN1_SIZE, CHAMFER3_OF_LPATTERN1_SIZE2, e.wrapped, chamfer3_of_lpattern1_side_16[0].wrapped)  # the first distance lies on this face
    for e in chamfer3_of_lpattern1_edges_17:
        chamfer3_of_lpattern1.Add(CHAMFER3_OF_LPATTERN1_SIZE, CHAMFER3_OF_LPATTERN1_SIZE2, e.wrapped, chamfer3_of_lpattern1_side_17[0].wrapped)  # the first distance lies on this face
    for e in chamfer3_of_lpattern1_edges_18:
        chamfer3_of_lpattern1.Add(CHAMFER3_OF_LPATTERN1_SIZE, CHAMFER3_OF_LPATTERN1_SIZE2, e.wrapped, chamfer3_of_lpattern1_side_18[0].wrapped)  # the first distance lies on this face
    for e in chamfer3_of_lpattern1_edges_19:
        chamfer3_of_lpattern1.Add(CHAMFER3_OF_LPATTERN1_SIZE, CHAMFER3_OF_LPATTERN1_SIZE2, e.wrapped, chamfer3_of_lpattern1_side_19[0].wrapped)  # the first distance lies on this face
    for e in chamfer3_of_lpattern1_edges_20:
        chamfer3_of_lpattern1.Add(CHAMFER3_OF_LPATTERN1_SIZE, CHAMFER3_OF_LPATTERN1_SIZE2, e.wrapped, chamfer3_of_lpattern1_side_20[0].wrapped)  # the first distance lies on this face
    add(Compound.cast(chamfer3_of_lpattern1.Shape()), mode=Mode.REPLACE)


solid = part.part
